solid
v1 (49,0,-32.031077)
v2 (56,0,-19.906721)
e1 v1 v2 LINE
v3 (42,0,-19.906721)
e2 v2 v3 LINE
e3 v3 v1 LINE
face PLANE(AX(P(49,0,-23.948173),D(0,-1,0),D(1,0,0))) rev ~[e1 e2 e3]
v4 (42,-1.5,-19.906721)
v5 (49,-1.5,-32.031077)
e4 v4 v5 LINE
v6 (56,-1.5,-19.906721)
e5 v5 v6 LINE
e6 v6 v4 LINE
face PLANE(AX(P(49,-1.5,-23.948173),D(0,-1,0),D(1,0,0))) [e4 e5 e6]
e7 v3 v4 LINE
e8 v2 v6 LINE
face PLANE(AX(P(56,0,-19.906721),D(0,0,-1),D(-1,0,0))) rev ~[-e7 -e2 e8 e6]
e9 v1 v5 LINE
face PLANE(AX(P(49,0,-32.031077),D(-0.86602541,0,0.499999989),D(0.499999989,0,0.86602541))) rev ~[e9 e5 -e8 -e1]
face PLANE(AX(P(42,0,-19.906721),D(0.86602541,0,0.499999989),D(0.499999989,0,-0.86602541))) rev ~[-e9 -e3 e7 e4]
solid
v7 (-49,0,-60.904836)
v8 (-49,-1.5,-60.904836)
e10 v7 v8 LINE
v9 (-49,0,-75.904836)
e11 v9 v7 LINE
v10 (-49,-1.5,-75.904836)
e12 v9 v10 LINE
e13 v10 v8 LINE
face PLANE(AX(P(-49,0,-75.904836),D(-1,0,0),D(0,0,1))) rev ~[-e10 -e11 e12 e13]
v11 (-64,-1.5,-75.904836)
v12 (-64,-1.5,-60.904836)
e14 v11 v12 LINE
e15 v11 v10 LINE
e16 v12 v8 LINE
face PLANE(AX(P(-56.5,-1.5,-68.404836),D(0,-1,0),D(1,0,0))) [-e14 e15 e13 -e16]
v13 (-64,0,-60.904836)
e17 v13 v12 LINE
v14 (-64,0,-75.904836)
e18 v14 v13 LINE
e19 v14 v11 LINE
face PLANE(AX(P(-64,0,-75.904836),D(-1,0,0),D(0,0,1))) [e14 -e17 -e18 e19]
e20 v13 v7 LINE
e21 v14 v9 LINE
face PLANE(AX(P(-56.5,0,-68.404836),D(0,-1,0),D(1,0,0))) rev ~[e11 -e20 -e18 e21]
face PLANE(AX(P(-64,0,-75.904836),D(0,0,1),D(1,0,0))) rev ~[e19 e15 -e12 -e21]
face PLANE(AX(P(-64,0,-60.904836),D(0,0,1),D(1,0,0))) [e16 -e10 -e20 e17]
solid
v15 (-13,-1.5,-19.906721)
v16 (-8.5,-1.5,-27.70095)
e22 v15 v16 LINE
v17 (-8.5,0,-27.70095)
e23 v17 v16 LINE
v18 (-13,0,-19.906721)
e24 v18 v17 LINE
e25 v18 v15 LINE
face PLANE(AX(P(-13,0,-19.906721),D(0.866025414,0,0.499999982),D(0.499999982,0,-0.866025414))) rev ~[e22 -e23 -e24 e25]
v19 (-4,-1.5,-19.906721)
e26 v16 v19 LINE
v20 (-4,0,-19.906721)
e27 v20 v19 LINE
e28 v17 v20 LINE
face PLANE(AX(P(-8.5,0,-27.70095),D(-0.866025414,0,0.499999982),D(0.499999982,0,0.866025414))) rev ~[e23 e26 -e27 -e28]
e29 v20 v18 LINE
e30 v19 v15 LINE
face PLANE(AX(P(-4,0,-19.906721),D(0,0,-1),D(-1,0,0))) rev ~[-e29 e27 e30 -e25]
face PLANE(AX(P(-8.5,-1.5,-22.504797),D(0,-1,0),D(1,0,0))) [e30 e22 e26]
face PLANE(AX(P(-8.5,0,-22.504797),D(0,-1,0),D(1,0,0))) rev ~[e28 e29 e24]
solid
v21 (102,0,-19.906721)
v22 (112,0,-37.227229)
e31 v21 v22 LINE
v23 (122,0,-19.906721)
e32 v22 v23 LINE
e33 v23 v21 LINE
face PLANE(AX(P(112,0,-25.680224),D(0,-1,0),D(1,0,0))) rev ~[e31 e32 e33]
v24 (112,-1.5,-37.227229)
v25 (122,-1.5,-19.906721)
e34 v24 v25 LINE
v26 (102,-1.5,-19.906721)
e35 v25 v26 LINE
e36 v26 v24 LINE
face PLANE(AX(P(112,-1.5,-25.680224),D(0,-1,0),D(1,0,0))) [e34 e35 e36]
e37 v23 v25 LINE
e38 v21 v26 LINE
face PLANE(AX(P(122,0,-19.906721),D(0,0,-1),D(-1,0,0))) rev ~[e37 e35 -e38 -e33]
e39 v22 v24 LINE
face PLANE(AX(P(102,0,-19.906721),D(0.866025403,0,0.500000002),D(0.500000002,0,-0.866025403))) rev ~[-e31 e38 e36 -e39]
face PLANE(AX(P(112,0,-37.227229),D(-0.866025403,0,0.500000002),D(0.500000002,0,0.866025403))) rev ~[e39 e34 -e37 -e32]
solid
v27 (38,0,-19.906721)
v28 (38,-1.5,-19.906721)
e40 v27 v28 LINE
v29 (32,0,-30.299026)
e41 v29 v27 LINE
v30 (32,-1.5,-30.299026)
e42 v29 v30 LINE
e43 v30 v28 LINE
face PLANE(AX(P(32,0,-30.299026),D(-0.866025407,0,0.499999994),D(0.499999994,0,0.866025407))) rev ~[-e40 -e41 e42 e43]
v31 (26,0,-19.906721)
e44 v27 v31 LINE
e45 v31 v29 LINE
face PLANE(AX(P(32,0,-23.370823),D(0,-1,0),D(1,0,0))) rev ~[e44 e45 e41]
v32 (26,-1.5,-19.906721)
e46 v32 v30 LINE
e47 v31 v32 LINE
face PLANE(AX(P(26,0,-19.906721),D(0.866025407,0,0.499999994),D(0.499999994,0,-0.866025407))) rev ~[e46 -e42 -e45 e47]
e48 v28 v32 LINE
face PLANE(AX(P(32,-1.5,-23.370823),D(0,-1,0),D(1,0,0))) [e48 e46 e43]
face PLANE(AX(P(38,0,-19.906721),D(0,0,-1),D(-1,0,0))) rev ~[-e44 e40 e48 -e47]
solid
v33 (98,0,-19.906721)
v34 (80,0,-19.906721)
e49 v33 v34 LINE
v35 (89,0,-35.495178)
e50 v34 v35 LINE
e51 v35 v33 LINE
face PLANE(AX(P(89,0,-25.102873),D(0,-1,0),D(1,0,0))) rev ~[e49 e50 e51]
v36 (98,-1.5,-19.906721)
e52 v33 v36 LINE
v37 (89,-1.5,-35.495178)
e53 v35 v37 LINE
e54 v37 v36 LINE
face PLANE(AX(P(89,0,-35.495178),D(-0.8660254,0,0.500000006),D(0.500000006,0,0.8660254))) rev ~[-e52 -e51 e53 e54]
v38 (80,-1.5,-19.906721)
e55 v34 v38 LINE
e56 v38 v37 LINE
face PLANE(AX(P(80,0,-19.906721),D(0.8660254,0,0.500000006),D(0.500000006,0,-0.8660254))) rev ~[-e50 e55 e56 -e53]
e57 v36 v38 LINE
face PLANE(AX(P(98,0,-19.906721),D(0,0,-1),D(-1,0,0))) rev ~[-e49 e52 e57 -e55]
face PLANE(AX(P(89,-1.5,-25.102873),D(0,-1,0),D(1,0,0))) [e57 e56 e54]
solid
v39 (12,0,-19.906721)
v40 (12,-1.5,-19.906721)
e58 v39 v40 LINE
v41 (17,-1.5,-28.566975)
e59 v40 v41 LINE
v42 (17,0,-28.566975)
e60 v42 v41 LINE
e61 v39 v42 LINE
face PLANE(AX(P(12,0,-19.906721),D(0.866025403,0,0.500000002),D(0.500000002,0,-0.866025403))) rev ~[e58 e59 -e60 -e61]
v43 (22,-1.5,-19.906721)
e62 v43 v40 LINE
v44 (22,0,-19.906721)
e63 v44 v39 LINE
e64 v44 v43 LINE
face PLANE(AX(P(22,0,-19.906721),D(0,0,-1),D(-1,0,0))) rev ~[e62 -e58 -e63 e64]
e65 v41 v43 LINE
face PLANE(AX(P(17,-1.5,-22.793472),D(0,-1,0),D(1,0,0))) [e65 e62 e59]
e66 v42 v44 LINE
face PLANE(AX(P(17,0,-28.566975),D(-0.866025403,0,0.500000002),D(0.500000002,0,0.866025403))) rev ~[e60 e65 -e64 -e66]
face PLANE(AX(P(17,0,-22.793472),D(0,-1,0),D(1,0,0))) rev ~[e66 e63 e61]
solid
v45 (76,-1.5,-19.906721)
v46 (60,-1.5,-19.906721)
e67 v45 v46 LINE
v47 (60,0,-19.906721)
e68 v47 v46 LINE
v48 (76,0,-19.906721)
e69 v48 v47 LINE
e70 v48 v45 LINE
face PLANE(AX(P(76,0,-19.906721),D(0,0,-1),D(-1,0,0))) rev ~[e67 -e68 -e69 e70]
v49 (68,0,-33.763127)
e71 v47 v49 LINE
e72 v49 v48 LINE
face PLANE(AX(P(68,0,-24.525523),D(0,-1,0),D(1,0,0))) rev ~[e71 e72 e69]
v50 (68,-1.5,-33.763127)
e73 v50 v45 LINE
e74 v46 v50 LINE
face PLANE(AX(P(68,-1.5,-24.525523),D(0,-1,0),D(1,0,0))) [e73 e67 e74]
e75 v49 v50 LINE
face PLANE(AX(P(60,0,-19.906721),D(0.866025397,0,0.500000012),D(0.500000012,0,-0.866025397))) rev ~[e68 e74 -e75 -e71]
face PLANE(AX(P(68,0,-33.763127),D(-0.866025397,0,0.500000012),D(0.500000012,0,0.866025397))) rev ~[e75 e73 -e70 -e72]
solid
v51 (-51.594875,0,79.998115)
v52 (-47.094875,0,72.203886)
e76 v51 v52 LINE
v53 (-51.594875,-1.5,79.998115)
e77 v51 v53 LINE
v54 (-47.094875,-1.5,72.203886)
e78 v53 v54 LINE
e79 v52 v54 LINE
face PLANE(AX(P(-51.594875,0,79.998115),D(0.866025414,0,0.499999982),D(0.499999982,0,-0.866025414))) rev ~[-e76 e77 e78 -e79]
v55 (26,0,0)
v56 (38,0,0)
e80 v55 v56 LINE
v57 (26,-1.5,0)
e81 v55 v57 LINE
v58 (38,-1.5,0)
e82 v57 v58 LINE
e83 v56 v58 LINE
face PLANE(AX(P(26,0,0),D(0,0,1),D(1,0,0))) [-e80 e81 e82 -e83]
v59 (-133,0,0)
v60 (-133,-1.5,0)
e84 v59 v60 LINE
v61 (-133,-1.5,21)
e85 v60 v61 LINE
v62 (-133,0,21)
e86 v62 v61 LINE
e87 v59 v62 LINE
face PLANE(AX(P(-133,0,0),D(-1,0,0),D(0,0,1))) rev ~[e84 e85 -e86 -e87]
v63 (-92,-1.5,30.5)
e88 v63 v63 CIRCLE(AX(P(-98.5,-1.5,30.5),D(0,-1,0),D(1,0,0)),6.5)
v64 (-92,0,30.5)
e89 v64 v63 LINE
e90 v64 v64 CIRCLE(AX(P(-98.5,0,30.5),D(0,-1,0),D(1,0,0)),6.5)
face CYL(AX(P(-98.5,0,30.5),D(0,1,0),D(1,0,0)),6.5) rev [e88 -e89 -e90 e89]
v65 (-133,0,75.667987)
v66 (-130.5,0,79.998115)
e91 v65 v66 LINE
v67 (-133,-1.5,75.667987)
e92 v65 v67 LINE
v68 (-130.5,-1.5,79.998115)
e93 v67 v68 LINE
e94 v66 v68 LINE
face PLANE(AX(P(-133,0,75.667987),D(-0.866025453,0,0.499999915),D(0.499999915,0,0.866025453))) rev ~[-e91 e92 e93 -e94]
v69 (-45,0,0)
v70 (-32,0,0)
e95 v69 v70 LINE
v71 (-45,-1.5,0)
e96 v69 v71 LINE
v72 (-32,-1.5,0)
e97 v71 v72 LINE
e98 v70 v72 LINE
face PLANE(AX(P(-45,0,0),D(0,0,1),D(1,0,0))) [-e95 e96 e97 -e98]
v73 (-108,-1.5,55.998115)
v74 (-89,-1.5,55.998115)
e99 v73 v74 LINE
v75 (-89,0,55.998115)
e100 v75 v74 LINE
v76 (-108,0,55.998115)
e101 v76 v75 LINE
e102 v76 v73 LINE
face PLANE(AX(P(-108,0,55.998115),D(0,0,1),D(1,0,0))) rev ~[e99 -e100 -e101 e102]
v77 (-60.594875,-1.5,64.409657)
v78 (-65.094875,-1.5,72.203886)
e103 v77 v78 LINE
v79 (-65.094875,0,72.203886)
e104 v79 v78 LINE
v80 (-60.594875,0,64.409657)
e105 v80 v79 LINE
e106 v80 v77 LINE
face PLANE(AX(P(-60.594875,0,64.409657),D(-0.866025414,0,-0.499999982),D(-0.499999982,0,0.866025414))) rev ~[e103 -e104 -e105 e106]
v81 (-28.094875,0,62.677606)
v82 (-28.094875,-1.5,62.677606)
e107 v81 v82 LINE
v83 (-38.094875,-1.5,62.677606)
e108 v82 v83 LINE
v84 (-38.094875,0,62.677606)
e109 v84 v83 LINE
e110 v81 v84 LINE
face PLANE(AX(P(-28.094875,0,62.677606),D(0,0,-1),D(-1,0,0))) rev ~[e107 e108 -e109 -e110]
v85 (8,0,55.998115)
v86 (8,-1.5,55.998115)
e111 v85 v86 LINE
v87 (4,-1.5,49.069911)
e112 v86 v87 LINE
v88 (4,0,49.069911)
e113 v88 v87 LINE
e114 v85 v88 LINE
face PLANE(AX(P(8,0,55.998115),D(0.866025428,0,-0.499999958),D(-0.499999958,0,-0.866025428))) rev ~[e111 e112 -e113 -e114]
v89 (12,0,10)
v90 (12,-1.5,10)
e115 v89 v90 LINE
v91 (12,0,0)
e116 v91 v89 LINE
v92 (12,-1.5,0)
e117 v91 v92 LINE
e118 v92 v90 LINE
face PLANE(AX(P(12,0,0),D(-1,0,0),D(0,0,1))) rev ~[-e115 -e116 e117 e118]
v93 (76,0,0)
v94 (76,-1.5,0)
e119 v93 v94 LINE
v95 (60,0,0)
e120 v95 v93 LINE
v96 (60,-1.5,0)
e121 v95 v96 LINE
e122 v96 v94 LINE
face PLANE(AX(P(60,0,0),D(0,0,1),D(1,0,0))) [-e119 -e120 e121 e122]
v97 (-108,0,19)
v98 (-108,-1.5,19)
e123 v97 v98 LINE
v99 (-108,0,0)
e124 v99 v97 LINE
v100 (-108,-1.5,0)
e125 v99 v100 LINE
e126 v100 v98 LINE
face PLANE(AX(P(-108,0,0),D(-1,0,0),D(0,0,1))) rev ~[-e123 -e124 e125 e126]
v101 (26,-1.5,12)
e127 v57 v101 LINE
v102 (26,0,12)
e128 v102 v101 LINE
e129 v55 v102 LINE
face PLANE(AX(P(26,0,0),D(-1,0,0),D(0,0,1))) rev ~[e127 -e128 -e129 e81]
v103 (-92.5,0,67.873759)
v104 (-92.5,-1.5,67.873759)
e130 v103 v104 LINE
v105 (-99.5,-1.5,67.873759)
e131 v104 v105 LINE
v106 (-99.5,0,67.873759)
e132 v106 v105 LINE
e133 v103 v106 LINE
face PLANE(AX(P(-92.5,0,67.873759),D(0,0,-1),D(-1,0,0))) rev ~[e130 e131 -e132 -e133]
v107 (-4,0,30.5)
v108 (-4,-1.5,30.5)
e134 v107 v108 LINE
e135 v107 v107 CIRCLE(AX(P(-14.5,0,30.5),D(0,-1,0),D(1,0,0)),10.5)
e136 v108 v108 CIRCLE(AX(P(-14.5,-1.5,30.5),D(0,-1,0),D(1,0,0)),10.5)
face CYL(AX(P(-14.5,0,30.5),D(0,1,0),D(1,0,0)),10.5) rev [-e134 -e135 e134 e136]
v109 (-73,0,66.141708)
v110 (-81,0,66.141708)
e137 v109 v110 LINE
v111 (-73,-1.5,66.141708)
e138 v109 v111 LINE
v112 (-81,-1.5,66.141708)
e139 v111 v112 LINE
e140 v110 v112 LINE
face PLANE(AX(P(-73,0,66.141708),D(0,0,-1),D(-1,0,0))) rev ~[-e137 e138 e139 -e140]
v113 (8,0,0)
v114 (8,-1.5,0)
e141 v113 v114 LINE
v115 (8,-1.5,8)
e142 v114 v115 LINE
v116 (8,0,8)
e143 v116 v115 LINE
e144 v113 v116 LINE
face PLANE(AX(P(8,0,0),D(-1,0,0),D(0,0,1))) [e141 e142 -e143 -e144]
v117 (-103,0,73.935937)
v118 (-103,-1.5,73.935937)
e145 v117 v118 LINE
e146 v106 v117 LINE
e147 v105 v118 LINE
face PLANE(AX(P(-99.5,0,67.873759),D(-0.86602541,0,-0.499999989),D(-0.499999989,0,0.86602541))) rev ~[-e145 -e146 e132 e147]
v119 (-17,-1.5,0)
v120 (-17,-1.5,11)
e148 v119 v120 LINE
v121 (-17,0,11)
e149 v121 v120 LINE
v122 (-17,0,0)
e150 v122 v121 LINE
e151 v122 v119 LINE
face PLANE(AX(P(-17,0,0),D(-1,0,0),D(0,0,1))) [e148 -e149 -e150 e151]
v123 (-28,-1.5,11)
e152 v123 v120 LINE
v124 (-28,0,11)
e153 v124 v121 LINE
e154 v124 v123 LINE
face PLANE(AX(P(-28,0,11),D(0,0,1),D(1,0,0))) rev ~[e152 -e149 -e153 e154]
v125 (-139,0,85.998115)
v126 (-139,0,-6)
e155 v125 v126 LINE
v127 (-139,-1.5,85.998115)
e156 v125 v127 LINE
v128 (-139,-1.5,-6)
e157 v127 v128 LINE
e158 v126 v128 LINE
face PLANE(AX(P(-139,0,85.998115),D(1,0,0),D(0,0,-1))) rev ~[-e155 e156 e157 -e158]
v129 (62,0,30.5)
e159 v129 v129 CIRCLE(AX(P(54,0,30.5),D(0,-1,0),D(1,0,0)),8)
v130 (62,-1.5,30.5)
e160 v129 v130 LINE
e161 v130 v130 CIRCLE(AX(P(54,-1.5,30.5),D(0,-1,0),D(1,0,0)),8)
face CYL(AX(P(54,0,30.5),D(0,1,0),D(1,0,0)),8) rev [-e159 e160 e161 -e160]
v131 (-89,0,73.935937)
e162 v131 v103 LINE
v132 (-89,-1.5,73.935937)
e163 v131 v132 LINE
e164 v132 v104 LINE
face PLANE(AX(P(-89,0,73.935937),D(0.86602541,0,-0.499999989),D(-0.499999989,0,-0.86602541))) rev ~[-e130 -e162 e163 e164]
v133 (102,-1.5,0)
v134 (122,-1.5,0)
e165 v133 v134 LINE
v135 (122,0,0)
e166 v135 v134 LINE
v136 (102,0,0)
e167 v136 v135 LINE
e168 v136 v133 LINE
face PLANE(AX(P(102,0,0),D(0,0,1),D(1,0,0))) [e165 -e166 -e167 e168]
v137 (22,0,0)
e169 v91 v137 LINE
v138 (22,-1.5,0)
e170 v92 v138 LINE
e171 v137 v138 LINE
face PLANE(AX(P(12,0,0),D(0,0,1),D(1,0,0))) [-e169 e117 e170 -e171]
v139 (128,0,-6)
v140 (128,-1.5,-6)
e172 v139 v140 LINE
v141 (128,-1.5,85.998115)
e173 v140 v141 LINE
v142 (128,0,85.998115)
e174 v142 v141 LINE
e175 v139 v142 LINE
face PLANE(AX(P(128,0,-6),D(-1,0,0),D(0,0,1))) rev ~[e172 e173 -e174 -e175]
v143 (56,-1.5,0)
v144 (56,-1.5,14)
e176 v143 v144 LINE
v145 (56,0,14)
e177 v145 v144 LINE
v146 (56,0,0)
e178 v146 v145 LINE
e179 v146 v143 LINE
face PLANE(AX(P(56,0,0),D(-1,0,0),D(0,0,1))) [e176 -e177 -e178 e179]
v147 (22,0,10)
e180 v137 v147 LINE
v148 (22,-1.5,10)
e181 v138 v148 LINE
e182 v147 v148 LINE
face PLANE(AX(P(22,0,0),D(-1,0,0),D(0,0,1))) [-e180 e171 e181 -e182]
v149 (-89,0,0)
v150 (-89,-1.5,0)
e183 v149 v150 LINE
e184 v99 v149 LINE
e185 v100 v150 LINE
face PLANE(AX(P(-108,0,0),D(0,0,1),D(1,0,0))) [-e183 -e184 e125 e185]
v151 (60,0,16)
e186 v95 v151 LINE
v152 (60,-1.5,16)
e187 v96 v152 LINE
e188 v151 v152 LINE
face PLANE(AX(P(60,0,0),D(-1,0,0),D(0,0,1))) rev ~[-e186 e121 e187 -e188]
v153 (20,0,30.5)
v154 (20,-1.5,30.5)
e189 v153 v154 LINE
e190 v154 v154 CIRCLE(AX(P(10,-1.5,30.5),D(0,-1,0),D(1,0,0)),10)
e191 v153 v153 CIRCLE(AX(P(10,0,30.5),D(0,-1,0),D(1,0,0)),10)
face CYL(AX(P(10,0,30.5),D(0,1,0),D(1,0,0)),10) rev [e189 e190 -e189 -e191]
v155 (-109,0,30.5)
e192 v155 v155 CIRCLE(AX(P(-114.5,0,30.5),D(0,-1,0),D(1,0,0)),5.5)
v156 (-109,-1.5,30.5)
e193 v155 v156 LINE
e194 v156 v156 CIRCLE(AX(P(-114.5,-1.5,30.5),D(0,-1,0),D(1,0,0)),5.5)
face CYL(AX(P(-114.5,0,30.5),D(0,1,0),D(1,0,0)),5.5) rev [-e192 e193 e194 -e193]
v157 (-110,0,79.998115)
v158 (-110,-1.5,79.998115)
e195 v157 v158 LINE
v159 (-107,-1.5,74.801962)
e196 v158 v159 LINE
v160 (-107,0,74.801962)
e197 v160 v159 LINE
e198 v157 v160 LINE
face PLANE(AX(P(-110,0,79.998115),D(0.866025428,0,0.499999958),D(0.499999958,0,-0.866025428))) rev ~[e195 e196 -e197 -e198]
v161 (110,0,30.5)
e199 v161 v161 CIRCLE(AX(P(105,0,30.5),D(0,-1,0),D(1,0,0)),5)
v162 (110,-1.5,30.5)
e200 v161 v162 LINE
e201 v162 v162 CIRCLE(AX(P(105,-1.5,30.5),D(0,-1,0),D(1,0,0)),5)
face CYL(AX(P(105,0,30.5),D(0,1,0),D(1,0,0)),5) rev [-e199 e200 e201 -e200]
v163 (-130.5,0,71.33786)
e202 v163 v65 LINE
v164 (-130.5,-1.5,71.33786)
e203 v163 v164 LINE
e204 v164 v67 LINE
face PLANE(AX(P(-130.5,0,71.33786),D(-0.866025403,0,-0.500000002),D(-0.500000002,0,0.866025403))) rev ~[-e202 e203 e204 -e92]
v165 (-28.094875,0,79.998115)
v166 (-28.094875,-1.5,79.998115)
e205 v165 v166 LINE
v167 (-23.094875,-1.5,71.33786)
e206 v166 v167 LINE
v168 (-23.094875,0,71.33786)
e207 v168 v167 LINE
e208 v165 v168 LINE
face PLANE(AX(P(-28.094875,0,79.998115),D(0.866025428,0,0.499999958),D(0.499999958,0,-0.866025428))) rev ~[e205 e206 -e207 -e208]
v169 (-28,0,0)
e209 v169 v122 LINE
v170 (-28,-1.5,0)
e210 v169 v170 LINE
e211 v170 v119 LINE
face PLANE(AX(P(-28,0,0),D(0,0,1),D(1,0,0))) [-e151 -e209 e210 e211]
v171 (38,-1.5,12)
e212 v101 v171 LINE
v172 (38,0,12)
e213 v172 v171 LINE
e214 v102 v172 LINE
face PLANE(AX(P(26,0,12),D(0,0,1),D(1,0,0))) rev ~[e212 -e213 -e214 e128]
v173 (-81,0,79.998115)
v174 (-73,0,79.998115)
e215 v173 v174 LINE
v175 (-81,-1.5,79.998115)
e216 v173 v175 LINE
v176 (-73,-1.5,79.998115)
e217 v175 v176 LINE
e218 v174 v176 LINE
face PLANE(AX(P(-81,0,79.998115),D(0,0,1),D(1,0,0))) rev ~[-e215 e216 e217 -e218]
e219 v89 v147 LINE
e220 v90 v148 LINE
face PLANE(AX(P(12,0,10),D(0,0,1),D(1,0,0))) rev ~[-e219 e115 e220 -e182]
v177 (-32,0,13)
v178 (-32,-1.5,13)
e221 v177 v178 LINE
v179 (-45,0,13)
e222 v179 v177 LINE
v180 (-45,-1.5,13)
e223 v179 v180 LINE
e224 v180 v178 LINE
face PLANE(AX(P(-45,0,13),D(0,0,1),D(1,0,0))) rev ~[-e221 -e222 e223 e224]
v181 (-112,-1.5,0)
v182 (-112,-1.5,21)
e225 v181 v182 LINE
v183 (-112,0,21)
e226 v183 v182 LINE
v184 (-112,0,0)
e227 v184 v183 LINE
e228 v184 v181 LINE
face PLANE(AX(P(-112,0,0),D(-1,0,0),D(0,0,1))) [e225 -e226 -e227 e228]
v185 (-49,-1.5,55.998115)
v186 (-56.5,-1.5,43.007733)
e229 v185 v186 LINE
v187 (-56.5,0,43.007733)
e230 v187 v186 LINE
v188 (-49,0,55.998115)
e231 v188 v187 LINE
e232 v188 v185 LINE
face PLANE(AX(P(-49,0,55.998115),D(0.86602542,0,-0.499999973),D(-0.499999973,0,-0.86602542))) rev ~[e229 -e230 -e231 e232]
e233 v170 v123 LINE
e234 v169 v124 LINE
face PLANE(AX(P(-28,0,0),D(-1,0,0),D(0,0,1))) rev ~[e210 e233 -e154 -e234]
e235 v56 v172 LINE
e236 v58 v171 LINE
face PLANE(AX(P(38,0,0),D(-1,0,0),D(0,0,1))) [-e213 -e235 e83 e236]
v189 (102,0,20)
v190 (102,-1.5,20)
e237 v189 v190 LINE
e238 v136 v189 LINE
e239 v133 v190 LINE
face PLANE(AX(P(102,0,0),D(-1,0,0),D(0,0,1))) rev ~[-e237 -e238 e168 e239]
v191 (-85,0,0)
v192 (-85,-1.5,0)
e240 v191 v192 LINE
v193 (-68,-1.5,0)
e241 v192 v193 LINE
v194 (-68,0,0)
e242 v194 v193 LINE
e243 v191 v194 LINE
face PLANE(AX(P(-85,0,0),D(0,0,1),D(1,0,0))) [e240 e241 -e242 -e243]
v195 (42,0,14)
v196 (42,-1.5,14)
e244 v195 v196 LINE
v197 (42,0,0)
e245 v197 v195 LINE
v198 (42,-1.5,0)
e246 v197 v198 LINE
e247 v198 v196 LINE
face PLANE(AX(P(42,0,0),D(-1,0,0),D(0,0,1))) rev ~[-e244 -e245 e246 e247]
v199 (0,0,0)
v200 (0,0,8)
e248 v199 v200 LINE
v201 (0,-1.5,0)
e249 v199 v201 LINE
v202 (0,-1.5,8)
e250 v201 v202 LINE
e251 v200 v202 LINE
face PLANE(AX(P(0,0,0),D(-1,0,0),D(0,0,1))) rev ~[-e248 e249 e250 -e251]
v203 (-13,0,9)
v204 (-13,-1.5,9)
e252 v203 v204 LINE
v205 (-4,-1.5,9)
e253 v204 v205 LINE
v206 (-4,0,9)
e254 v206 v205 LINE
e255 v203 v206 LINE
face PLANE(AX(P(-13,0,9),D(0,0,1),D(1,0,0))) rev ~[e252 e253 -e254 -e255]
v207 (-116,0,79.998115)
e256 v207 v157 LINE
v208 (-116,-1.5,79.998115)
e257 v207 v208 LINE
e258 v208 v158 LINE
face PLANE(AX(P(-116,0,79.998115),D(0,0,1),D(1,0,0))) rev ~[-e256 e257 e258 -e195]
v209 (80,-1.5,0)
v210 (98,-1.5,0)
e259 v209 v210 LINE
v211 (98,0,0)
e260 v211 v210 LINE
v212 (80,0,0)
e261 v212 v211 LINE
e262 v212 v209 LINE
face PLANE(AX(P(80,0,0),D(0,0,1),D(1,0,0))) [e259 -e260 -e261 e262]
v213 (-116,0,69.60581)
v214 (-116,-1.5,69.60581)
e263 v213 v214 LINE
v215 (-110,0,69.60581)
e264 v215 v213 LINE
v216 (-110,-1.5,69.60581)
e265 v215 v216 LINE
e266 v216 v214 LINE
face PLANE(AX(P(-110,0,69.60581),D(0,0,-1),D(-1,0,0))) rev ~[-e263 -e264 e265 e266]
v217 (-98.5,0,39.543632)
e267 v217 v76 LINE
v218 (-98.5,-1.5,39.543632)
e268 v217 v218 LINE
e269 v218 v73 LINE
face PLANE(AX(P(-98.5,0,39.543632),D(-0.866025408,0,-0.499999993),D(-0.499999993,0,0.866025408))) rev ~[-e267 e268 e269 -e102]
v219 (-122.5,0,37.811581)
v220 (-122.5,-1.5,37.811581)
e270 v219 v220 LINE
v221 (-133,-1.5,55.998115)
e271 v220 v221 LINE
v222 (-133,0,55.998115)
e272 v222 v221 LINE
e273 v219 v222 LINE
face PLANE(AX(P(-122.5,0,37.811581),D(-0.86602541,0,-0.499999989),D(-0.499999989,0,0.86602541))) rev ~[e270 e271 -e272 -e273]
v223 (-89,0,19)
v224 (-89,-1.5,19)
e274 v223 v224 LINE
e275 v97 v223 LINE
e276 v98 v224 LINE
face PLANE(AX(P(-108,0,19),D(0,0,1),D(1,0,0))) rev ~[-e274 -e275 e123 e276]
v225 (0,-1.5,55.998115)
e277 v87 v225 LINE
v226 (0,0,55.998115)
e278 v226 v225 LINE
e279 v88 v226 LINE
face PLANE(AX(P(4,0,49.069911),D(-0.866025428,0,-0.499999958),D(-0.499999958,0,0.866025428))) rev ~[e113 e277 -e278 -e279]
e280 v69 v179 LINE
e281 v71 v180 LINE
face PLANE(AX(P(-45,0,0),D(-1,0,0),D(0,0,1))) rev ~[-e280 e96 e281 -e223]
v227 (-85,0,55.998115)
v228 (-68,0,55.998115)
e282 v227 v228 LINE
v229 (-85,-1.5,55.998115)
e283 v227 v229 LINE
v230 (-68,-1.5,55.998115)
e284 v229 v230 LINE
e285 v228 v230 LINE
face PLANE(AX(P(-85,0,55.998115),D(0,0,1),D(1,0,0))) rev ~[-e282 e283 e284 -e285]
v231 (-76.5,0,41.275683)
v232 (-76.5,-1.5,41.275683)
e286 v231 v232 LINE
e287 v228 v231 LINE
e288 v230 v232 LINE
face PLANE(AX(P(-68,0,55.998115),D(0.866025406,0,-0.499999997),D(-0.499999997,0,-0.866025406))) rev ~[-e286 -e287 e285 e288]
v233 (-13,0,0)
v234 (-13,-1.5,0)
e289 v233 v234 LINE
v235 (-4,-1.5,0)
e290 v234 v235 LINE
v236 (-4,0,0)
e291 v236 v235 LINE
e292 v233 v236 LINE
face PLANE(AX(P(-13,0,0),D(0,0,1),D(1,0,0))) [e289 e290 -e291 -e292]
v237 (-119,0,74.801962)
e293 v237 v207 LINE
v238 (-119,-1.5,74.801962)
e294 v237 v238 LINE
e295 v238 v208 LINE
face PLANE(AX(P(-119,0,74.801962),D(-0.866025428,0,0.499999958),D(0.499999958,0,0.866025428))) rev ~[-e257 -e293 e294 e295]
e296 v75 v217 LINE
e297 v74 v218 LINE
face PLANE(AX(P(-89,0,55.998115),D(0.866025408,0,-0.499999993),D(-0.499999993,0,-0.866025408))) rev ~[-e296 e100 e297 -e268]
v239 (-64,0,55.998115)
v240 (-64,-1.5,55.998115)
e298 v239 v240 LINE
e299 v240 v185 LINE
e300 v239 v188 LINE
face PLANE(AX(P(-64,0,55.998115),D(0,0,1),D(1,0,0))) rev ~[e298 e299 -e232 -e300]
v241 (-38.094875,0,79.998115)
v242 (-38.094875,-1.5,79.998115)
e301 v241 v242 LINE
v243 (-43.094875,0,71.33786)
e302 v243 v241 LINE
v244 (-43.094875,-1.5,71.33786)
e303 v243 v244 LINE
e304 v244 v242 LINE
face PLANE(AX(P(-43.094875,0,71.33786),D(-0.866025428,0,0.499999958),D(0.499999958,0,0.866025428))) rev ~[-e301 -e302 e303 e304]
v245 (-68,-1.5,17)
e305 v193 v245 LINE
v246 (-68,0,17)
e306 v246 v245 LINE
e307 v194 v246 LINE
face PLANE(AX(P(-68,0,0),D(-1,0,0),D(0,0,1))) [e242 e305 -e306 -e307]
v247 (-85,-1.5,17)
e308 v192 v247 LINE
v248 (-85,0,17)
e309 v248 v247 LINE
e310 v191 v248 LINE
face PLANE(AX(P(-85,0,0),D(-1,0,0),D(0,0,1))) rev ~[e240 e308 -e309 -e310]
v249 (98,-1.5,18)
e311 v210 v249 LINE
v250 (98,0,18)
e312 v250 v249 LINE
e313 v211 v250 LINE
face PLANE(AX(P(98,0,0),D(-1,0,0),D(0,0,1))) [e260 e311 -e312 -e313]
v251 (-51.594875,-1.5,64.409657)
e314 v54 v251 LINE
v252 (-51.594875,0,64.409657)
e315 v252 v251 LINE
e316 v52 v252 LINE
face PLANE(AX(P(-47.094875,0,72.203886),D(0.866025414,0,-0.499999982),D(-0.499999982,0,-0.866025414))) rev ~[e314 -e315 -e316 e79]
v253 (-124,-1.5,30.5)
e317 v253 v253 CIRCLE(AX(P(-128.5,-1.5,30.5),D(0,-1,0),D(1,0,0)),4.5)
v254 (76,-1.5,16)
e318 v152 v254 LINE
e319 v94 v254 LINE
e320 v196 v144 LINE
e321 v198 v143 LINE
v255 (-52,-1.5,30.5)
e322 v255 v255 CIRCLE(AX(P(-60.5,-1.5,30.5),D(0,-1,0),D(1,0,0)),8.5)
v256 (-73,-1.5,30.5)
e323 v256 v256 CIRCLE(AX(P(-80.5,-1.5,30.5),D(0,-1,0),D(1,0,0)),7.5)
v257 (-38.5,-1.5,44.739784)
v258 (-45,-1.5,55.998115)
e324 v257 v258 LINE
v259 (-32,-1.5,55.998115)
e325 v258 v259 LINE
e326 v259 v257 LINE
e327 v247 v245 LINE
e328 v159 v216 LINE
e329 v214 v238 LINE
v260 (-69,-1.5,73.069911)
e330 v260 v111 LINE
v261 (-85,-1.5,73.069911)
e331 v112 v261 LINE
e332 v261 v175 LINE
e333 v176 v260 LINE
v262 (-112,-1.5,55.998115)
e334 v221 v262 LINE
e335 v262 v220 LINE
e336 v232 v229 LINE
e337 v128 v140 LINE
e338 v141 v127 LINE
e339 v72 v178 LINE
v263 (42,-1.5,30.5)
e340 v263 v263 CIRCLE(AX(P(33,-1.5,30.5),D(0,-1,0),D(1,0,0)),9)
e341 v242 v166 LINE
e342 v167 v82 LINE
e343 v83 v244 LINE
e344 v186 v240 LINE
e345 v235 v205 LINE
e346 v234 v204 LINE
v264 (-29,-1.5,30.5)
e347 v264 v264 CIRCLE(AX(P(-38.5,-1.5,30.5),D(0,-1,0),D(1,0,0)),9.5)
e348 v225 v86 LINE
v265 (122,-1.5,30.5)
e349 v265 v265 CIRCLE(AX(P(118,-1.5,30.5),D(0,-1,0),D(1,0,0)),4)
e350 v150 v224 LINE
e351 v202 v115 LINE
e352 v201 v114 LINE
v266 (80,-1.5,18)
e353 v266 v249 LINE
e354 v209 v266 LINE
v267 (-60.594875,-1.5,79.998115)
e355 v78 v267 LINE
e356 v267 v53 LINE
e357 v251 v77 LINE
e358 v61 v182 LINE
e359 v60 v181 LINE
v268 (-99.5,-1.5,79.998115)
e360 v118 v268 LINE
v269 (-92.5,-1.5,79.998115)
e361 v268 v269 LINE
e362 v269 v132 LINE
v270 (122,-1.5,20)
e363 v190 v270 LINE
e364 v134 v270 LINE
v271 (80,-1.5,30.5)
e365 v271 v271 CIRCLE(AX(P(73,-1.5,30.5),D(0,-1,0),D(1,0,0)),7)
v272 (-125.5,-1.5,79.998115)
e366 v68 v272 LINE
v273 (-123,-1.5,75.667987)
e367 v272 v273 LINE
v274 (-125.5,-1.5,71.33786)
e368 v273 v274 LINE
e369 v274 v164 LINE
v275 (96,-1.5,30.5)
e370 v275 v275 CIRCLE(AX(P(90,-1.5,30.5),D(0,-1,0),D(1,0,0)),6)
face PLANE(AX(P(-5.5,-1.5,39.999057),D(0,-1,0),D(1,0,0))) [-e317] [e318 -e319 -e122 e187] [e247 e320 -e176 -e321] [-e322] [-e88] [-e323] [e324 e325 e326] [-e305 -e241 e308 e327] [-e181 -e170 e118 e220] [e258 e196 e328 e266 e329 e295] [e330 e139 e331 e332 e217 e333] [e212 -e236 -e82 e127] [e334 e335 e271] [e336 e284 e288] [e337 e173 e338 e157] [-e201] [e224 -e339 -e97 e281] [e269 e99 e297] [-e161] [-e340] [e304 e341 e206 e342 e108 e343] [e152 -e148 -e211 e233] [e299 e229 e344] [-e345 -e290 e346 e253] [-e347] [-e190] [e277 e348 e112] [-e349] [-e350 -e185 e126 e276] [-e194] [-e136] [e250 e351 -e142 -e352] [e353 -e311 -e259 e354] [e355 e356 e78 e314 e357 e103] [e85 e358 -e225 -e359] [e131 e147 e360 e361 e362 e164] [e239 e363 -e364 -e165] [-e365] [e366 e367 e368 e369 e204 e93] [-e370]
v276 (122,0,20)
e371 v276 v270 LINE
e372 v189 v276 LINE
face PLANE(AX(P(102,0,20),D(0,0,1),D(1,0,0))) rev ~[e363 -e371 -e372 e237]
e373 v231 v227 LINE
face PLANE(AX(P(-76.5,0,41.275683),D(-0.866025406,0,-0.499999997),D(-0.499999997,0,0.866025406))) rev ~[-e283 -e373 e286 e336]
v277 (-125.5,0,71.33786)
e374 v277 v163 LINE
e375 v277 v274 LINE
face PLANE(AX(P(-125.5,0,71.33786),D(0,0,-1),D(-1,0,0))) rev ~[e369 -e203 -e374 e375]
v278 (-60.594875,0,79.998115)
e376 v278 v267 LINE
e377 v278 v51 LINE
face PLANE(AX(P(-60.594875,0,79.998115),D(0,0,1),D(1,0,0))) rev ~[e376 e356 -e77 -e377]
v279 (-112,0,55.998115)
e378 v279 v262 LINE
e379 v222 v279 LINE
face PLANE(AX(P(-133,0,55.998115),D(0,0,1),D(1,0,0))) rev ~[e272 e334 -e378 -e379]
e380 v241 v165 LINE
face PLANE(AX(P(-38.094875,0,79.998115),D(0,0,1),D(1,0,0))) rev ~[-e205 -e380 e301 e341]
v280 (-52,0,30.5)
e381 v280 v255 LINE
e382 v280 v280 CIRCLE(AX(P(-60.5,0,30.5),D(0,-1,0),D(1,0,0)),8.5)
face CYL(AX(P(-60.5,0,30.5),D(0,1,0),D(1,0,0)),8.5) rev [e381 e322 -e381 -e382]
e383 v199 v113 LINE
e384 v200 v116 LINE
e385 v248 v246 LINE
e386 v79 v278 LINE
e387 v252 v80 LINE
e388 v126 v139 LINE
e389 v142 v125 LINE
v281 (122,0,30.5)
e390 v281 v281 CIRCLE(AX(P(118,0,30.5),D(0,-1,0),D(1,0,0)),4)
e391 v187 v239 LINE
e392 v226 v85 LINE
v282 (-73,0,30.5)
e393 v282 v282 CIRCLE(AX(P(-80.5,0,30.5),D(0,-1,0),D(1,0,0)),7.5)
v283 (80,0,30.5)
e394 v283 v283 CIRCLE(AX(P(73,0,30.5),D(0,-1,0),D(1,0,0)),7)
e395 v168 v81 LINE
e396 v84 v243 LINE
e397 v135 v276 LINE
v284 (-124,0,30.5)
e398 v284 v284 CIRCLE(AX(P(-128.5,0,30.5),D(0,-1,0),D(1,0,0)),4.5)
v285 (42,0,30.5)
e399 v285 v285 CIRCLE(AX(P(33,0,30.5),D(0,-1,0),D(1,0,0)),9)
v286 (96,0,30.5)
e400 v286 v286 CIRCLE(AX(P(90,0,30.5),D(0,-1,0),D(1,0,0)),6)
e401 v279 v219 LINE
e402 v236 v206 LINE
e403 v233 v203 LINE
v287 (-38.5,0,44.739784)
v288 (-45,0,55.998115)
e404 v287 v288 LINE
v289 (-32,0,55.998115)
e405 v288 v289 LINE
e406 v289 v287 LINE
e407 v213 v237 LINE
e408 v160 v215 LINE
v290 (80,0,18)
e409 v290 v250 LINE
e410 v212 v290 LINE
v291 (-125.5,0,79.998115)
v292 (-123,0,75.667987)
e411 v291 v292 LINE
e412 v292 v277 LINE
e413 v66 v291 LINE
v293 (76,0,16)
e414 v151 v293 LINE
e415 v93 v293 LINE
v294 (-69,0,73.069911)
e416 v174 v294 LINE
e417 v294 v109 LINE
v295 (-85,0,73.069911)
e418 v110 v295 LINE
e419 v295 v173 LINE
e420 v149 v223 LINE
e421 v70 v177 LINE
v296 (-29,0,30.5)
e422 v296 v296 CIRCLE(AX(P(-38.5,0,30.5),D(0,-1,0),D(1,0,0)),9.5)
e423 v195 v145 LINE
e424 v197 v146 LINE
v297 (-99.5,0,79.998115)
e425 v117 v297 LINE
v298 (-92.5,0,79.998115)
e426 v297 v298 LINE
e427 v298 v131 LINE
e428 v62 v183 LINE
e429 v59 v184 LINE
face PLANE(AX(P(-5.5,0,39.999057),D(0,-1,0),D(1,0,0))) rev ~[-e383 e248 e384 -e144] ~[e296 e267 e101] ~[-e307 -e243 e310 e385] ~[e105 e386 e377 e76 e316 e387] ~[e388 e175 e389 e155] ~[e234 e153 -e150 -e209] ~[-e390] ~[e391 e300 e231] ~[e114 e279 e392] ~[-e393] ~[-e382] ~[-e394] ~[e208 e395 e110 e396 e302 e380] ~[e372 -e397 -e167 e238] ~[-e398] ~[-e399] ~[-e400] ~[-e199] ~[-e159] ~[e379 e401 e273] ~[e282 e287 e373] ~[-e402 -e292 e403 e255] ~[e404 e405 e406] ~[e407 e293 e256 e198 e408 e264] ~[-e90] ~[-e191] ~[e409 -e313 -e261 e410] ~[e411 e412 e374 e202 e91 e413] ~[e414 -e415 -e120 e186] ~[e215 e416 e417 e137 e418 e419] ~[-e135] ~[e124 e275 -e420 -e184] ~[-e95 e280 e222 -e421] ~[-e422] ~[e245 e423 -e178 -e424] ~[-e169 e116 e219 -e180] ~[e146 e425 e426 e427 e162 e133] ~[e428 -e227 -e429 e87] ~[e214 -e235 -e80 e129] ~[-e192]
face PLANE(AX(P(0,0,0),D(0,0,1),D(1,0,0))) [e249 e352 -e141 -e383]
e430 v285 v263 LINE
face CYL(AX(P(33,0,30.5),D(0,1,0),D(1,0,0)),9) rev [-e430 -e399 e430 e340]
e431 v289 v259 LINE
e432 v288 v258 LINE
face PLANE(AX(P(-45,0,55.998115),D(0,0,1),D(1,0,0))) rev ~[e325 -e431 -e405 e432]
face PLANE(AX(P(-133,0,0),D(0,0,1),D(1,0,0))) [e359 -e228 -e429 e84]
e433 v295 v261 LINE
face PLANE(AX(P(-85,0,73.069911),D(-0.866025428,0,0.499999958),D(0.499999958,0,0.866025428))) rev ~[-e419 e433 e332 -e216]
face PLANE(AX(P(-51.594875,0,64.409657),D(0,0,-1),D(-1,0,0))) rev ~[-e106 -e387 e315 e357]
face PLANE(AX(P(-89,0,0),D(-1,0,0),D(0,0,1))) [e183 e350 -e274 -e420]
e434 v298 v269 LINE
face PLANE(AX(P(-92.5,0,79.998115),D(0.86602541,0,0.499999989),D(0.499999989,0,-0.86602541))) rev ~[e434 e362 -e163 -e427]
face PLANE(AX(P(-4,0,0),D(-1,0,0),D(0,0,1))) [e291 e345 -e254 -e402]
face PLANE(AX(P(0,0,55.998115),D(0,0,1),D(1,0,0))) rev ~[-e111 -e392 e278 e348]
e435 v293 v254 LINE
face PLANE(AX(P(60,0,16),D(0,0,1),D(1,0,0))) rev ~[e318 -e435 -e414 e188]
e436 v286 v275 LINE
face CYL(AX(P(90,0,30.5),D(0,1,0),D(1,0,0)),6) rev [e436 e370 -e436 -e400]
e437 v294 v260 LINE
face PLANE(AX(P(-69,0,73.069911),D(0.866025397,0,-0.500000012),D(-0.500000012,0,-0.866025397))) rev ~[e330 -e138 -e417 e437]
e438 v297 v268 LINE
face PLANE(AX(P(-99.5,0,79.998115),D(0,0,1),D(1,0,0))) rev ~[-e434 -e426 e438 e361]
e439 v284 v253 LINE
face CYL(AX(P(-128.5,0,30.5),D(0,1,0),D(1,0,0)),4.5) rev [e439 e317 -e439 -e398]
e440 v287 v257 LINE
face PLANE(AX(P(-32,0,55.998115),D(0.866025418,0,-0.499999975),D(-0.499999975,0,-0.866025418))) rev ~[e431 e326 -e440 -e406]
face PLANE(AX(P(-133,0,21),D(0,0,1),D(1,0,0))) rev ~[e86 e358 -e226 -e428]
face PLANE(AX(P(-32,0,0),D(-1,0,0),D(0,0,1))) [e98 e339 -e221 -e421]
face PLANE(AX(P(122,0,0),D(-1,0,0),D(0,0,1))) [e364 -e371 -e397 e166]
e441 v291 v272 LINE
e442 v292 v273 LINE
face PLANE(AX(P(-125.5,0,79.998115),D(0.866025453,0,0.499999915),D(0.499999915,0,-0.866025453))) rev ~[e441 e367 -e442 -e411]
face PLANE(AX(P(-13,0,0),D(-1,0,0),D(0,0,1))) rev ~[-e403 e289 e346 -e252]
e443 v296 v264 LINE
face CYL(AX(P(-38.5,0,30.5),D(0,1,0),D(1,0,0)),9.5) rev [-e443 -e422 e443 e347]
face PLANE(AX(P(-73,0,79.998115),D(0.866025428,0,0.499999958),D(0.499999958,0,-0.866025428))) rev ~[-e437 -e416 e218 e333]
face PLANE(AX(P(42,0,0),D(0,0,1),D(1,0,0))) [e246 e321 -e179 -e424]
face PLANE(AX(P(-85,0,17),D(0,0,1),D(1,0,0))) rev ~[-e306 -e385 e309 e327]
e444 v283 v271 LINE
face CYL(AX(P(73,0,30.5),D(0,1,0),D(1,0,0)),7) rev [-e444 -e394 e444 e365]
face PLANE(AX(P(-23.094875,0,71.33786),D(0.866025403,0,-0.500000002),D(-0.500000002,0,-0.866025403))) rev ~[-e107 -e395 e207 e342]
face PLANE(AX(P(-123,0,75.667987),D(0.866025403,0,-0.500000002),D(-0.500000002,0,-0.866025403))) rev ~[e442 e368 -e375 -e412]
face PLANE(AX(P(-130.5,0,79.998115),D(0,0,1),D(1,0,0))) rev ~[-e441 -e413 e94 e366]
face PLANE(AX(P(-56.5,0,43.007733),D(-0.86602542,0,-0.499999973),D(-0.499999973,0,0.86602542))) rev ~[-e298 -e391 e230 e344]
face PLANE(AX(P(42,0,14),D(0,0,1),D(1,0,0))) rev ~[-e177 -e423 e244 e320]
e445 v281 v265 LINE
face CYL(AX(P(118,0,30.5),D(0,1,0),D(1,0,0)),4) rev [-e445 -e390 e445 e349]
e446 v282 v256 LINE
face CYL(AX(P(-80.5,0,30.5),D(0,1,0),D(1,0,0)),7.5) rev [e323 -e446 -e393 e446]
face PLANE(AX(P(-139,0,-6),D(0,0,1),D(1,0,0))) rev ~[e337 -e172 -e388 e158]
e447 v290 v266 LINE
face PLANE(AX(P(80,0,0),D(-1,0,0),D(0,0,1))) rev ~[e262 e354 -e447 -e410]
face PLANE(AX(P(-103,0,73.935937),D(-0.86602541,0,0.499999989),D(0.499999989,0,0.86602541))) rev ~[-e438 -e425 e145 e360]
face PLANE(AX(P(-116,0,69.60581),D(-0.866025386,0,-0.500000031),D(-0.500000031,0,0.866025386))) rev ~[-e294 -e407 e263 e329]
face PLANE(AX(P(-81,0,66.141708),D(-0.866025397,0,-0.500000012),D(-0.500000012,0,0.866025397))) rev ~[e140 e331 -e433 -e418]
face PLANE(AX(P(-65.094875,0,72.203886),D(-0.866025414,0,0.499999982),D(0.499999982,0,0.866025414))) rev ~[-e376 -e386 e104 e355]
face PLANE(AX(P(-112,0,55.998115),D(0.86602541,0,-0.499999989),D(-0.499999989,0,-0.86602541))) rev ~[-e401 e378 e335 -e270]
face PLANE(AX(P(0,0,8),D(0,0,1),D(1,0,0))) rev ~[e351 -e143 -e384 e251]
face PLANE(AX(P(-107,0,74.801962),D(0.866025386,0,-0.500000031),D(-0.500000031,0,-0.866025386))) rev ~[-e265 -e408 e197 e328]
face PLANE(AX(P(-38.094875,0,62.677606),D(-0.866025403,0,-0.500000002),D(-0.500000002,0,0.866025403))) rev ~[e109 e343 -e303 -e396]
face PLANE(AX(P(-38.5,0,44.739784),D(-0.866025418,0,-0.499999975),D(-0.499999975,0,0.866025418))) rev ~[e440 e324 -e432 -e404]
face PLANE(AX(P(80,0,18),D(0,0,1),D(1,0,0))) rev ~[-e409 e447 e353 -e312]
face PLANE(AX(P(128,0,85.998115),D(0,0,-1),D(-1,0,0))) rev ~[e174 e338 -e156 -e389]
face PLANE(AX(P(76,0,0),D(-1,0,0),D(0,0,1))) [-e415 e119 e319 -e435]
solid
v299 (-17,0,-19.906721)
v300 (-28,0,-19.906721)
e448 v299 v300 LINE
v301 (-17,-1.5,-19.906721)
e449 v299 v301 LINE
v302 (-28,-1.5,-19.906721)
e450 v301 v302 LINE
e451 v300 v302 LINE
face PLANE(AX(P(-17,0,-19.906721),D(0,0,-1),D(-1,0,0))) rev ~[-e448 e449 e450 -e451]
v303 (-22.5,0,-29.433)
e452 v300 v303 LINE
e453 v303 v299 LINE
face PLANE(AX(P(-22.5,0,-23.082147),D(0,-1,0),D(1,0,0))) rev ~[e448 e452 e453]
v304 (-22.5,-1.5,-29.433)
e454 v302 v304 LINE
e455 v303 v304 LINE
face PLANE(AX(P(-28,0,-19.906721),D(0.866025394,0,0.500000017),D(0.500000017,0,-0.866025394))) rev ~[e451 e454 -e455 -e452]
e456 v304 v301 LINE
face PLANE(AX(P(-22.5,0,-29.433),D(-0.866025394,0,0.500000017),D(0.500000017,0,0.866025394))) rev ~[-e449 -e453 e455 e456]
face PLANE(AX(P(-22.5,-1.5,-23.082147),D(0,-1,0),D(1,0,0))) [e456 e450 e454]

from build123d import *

# Parameters (mm, degrees)
F0_W     = 15
F0_H     = 15
F0_W_2   = 9
F0_H_2   = 9
F0_W_3   = 8
F0_H_3   = 8
F0_W_4   = 10
F0_H_4   = 10
F0_W_5   = 21
F0_H_5   = 21
F0_W_6   = 19
F0_H_6   = 19
F0_W_7   = 17
F0_H_7   = 17
F0_R     = 4.5
F0_R_2   = 5.5
F0_R_3   = 6.5
F0_R_4   = 7.5
F0_W_8   = 13
F0_H_8   = 13
F0_W_9   = 11
F0_H_9   = 11
F0_R_5   = 8.5
F0_R_6   = 9.5
F0_R_7   = 10.5
F0_W_10  = 12
F0_H_10  = 12
F0_W_11  = 14
F0_H_11  = 14
F0_R_8   = 10
F0_R_9   = 9
F0_R_10  = 8
F0_W_12  = 16
F0_H_12  = 16
F0_W_13  = 18
F0_H_13  = 18
F0_W_14  = 20
F0_H_14  = 20
F0_R_11  = 7
F0_R_12  = 6
F0_R_13  = 5
F0_R_14  = 4
F1_DEPTH = 1.5


with BuildPart() as f1:
    # F0 (on Front) → F1 (new body)
    with BuildSketch(Plane.XZ):
        with Locations((-56.5, -68.404836)):
            Rectangle(F0_W, F0_H)
        Polygon((22, -19.906721), (12, -19.906721), (17, -28.566975), align=None)
        Polygon((38, -19.906721), (26, -19.906721), (32, -30.299026), align=None)
        Polygon((56, -19.906721), (42, -19.906721), (49, -32.031077), align=None)
        Polygon((76, -19.906721), (60, -19.906721), (68, -33.763127), align=None)
        Polygon((98, -19.906721), (80, -19.906721), (89, -35.495178), align=None)
        Polygon((122, -19.906721), (102, -19.906721), (112, -37.227229), align=None)
        Polygon((-4, -19.906721), (-13, -19.906721), (-8.5, -27.70095), align=None)
        Polygon((-17, -19.906721), (-28, -19.906721), (-22.5, -29.433), align=None)
        Polygon((128, 85.998115), (-139, 85.998115), (-139, 79.998115), (-139, -6), (128, -6), align=None)
        with Locations((-8.5, 4.5)):
            Rectangle(F0_W_2, F0_H_2, mode=Mode.SUBTRACT)
        with Locations((4, 4)):
            Rectangle(F0_W_3, F0_H_3, mode=Mode.SUBTRACT)
        with Locations((17, 5)):
            Rectangle(F0_W_4, F0_H_4, mode=Mode.SUBTRACT)
        with Locations((-122.5, 10.5)):
            Rectangle(F0_W_5, F0_H_5, mode=Mode.SUBTRACT)
        with Locations((-98.5, 9.5)):
            Rectangle(F0_W_6, F0_H_6, mode=Mode.SUBTRACT)
        with Locations((-76.5, 8.5)):
            Rectangle(F0_W_7, F0_H_7, mode=Mode.SUBTRACT)
        with Locations((-128.5, 30.5)):
            Circle(F0_R, mode=Mode.SUBTRACT)
        with Locations((-114.5, 30.5)):
            Circle(F0_R_2, mode=Mode.SUBTRACT)
        with Locations((-98.5, 30.5)):
            Circle(F0_R_3, mode=Mode.SUBTRACT)
        with Locations((-80.5, 30.5)):
            Circle(F0_R_4, mode=Mode.SUBTRACT)
        with Locations((-38.5, 6.5)):
            Rectangle(F0_W_8, F0_H_8, mode=Mode.SUBTRACT)
        with Locations((-22.5, 5.5)):
            Rectangle(F0_W_9, F0_H_9, mode=Mode.SUBTRACT)
        with Locations((-60.5, 30.5)):
            Circle(F0_R_5, mode=Mode.SUBTRACT)
        with Locations((-38.5, 30.5)):
            Circle(F0_R_6, mode=Mode.SUBTRACT)
        with Locations((-14.5, 30.5)):
            Circle(F0_R_7, mode=Mode.SUBTRACT)
        Polygon((-122.5, 37.811581), (-133, 55.998115), (-112, 55.998115), align=None, mode=Mode.SUBTRACT)
        Polygon((-98.5, 39.543632), (-108, 55.998115), (-89, 55.998115), align=None, mode=Mode.SUBTRACT)
        Polygon((-76.5, 41.275683), (-85, 55.998115), (-68, 55.998115), align=None, mode=Mode.SUBTRACT)
        Polygon((-133, 75.667987), (-130.5, 79.998115), (-125.5, 79.998115), (-123, 75.667987), (-125.5, 71.33786), (-130.5, 71.33786), align=None, mode=Mode.SUBTRACT)
        Polygon((-119, 74.801962), (-116, 79.998115), (-110, 79.998115), (-107, 74.801962), (-110, 69.60581), (-116, 69.60581), align=None, mode=Mode.SUBTRACT)
        Polygon((-103, 73.935937), (-99.5, 79.998115), (-92.5, 79.998115), (-89, 73.935937), (-92.5, 67.873759), (-99.5, 67.873759), align=None, mode=Mode.SUBTRACT)
        Polygon((-85, 73.069911), (-81, 79.998115), (-73, 79.998115), (-69, 73.069911), (-73, 66.141708), (-81, 66.141708), align=None, mode=Mode.SUBTRACT)
        Polygon((-56.5, 43.007733), (-64, 55.998115), (-49, 55.998115), align=None, mode=Mode.SUBTRACT)
        Polygon((-38.5, 44.739784), (-45, 55.998115), (-32, 55.998115), align=None, mode=Mode.SUBTRACT)
        Polygon((-65.094875, 72.203886), (-60.594875, 79.998115), (-51.594875, 79.998115), (-47.094875, 72.203886), (-51.594875, 64.409657), (-60.594875, 64.409657), align=None, mode=Mode.SUBTRACT)
        Polygon((-43.094875, 71.33786), (-38.094875, 79.998115), (-28.094875, 79.998115), (-23.094875, 71.33786), (-28.094875, 62.677606), (-38.094875, 62.677606), align=None, mode=Mode.SUBTRACT)
        with Locations((32, 6)):
            Rectangle(F0_W_10, F0_H_10, mode=Mode.SUBTRACT)
        with Locations((49, 7)):
            Rectangle(F0_W_11, F0_H_11, mode=Mode.SUBTRACT)
        with Locations((10, 30.5)):
            Circle(F0_R_8, mode=Mode.SUBTRACT)
        with Locations((33, 30.5)):
            Circle(F0_R_9, mode=Mode.SUBTRACT)
        with Locations((54, 30.5)):
            Circle(F0_R_10, mode=Mode.SUBTRACT)
        with Locations((68, 8)):
            Rectangle(F0_W_12, F0_H_12, mode=Mode.SUBTRACT)
        with Locations((89, 9)):
            Rectangle(F0_W_13, F0_H_13, mode=Mode.SUBTRACT)
        with Locations((112, 10)):
            Rectangle(F0_W_14, F0_H_14, mode=Mode.SUBTRACT)
        with Locations((73, 30.5)):
            Circle(F0_R_11, mode=Mode.SUBTRACT)
        with Locations((90, 30.5)):
            Circle(F0_R_12, mode=Mode.SUBTRACT)
        with Locations((105, 30.5)):
            Circle(F0_R_13, mode=Mode.SUBTRACT)
        with Locations((118, 30.5)):
            Circle(F0_R_14, mode=Mode.SUBTRACT)
        Polygon((4, 49.069911), (0, 55.998115), (8, 55.998115), align=None, mode=Mode.SUBTRACT)
    extrude(amount=F1_DEPTH)


solid = f1.part
